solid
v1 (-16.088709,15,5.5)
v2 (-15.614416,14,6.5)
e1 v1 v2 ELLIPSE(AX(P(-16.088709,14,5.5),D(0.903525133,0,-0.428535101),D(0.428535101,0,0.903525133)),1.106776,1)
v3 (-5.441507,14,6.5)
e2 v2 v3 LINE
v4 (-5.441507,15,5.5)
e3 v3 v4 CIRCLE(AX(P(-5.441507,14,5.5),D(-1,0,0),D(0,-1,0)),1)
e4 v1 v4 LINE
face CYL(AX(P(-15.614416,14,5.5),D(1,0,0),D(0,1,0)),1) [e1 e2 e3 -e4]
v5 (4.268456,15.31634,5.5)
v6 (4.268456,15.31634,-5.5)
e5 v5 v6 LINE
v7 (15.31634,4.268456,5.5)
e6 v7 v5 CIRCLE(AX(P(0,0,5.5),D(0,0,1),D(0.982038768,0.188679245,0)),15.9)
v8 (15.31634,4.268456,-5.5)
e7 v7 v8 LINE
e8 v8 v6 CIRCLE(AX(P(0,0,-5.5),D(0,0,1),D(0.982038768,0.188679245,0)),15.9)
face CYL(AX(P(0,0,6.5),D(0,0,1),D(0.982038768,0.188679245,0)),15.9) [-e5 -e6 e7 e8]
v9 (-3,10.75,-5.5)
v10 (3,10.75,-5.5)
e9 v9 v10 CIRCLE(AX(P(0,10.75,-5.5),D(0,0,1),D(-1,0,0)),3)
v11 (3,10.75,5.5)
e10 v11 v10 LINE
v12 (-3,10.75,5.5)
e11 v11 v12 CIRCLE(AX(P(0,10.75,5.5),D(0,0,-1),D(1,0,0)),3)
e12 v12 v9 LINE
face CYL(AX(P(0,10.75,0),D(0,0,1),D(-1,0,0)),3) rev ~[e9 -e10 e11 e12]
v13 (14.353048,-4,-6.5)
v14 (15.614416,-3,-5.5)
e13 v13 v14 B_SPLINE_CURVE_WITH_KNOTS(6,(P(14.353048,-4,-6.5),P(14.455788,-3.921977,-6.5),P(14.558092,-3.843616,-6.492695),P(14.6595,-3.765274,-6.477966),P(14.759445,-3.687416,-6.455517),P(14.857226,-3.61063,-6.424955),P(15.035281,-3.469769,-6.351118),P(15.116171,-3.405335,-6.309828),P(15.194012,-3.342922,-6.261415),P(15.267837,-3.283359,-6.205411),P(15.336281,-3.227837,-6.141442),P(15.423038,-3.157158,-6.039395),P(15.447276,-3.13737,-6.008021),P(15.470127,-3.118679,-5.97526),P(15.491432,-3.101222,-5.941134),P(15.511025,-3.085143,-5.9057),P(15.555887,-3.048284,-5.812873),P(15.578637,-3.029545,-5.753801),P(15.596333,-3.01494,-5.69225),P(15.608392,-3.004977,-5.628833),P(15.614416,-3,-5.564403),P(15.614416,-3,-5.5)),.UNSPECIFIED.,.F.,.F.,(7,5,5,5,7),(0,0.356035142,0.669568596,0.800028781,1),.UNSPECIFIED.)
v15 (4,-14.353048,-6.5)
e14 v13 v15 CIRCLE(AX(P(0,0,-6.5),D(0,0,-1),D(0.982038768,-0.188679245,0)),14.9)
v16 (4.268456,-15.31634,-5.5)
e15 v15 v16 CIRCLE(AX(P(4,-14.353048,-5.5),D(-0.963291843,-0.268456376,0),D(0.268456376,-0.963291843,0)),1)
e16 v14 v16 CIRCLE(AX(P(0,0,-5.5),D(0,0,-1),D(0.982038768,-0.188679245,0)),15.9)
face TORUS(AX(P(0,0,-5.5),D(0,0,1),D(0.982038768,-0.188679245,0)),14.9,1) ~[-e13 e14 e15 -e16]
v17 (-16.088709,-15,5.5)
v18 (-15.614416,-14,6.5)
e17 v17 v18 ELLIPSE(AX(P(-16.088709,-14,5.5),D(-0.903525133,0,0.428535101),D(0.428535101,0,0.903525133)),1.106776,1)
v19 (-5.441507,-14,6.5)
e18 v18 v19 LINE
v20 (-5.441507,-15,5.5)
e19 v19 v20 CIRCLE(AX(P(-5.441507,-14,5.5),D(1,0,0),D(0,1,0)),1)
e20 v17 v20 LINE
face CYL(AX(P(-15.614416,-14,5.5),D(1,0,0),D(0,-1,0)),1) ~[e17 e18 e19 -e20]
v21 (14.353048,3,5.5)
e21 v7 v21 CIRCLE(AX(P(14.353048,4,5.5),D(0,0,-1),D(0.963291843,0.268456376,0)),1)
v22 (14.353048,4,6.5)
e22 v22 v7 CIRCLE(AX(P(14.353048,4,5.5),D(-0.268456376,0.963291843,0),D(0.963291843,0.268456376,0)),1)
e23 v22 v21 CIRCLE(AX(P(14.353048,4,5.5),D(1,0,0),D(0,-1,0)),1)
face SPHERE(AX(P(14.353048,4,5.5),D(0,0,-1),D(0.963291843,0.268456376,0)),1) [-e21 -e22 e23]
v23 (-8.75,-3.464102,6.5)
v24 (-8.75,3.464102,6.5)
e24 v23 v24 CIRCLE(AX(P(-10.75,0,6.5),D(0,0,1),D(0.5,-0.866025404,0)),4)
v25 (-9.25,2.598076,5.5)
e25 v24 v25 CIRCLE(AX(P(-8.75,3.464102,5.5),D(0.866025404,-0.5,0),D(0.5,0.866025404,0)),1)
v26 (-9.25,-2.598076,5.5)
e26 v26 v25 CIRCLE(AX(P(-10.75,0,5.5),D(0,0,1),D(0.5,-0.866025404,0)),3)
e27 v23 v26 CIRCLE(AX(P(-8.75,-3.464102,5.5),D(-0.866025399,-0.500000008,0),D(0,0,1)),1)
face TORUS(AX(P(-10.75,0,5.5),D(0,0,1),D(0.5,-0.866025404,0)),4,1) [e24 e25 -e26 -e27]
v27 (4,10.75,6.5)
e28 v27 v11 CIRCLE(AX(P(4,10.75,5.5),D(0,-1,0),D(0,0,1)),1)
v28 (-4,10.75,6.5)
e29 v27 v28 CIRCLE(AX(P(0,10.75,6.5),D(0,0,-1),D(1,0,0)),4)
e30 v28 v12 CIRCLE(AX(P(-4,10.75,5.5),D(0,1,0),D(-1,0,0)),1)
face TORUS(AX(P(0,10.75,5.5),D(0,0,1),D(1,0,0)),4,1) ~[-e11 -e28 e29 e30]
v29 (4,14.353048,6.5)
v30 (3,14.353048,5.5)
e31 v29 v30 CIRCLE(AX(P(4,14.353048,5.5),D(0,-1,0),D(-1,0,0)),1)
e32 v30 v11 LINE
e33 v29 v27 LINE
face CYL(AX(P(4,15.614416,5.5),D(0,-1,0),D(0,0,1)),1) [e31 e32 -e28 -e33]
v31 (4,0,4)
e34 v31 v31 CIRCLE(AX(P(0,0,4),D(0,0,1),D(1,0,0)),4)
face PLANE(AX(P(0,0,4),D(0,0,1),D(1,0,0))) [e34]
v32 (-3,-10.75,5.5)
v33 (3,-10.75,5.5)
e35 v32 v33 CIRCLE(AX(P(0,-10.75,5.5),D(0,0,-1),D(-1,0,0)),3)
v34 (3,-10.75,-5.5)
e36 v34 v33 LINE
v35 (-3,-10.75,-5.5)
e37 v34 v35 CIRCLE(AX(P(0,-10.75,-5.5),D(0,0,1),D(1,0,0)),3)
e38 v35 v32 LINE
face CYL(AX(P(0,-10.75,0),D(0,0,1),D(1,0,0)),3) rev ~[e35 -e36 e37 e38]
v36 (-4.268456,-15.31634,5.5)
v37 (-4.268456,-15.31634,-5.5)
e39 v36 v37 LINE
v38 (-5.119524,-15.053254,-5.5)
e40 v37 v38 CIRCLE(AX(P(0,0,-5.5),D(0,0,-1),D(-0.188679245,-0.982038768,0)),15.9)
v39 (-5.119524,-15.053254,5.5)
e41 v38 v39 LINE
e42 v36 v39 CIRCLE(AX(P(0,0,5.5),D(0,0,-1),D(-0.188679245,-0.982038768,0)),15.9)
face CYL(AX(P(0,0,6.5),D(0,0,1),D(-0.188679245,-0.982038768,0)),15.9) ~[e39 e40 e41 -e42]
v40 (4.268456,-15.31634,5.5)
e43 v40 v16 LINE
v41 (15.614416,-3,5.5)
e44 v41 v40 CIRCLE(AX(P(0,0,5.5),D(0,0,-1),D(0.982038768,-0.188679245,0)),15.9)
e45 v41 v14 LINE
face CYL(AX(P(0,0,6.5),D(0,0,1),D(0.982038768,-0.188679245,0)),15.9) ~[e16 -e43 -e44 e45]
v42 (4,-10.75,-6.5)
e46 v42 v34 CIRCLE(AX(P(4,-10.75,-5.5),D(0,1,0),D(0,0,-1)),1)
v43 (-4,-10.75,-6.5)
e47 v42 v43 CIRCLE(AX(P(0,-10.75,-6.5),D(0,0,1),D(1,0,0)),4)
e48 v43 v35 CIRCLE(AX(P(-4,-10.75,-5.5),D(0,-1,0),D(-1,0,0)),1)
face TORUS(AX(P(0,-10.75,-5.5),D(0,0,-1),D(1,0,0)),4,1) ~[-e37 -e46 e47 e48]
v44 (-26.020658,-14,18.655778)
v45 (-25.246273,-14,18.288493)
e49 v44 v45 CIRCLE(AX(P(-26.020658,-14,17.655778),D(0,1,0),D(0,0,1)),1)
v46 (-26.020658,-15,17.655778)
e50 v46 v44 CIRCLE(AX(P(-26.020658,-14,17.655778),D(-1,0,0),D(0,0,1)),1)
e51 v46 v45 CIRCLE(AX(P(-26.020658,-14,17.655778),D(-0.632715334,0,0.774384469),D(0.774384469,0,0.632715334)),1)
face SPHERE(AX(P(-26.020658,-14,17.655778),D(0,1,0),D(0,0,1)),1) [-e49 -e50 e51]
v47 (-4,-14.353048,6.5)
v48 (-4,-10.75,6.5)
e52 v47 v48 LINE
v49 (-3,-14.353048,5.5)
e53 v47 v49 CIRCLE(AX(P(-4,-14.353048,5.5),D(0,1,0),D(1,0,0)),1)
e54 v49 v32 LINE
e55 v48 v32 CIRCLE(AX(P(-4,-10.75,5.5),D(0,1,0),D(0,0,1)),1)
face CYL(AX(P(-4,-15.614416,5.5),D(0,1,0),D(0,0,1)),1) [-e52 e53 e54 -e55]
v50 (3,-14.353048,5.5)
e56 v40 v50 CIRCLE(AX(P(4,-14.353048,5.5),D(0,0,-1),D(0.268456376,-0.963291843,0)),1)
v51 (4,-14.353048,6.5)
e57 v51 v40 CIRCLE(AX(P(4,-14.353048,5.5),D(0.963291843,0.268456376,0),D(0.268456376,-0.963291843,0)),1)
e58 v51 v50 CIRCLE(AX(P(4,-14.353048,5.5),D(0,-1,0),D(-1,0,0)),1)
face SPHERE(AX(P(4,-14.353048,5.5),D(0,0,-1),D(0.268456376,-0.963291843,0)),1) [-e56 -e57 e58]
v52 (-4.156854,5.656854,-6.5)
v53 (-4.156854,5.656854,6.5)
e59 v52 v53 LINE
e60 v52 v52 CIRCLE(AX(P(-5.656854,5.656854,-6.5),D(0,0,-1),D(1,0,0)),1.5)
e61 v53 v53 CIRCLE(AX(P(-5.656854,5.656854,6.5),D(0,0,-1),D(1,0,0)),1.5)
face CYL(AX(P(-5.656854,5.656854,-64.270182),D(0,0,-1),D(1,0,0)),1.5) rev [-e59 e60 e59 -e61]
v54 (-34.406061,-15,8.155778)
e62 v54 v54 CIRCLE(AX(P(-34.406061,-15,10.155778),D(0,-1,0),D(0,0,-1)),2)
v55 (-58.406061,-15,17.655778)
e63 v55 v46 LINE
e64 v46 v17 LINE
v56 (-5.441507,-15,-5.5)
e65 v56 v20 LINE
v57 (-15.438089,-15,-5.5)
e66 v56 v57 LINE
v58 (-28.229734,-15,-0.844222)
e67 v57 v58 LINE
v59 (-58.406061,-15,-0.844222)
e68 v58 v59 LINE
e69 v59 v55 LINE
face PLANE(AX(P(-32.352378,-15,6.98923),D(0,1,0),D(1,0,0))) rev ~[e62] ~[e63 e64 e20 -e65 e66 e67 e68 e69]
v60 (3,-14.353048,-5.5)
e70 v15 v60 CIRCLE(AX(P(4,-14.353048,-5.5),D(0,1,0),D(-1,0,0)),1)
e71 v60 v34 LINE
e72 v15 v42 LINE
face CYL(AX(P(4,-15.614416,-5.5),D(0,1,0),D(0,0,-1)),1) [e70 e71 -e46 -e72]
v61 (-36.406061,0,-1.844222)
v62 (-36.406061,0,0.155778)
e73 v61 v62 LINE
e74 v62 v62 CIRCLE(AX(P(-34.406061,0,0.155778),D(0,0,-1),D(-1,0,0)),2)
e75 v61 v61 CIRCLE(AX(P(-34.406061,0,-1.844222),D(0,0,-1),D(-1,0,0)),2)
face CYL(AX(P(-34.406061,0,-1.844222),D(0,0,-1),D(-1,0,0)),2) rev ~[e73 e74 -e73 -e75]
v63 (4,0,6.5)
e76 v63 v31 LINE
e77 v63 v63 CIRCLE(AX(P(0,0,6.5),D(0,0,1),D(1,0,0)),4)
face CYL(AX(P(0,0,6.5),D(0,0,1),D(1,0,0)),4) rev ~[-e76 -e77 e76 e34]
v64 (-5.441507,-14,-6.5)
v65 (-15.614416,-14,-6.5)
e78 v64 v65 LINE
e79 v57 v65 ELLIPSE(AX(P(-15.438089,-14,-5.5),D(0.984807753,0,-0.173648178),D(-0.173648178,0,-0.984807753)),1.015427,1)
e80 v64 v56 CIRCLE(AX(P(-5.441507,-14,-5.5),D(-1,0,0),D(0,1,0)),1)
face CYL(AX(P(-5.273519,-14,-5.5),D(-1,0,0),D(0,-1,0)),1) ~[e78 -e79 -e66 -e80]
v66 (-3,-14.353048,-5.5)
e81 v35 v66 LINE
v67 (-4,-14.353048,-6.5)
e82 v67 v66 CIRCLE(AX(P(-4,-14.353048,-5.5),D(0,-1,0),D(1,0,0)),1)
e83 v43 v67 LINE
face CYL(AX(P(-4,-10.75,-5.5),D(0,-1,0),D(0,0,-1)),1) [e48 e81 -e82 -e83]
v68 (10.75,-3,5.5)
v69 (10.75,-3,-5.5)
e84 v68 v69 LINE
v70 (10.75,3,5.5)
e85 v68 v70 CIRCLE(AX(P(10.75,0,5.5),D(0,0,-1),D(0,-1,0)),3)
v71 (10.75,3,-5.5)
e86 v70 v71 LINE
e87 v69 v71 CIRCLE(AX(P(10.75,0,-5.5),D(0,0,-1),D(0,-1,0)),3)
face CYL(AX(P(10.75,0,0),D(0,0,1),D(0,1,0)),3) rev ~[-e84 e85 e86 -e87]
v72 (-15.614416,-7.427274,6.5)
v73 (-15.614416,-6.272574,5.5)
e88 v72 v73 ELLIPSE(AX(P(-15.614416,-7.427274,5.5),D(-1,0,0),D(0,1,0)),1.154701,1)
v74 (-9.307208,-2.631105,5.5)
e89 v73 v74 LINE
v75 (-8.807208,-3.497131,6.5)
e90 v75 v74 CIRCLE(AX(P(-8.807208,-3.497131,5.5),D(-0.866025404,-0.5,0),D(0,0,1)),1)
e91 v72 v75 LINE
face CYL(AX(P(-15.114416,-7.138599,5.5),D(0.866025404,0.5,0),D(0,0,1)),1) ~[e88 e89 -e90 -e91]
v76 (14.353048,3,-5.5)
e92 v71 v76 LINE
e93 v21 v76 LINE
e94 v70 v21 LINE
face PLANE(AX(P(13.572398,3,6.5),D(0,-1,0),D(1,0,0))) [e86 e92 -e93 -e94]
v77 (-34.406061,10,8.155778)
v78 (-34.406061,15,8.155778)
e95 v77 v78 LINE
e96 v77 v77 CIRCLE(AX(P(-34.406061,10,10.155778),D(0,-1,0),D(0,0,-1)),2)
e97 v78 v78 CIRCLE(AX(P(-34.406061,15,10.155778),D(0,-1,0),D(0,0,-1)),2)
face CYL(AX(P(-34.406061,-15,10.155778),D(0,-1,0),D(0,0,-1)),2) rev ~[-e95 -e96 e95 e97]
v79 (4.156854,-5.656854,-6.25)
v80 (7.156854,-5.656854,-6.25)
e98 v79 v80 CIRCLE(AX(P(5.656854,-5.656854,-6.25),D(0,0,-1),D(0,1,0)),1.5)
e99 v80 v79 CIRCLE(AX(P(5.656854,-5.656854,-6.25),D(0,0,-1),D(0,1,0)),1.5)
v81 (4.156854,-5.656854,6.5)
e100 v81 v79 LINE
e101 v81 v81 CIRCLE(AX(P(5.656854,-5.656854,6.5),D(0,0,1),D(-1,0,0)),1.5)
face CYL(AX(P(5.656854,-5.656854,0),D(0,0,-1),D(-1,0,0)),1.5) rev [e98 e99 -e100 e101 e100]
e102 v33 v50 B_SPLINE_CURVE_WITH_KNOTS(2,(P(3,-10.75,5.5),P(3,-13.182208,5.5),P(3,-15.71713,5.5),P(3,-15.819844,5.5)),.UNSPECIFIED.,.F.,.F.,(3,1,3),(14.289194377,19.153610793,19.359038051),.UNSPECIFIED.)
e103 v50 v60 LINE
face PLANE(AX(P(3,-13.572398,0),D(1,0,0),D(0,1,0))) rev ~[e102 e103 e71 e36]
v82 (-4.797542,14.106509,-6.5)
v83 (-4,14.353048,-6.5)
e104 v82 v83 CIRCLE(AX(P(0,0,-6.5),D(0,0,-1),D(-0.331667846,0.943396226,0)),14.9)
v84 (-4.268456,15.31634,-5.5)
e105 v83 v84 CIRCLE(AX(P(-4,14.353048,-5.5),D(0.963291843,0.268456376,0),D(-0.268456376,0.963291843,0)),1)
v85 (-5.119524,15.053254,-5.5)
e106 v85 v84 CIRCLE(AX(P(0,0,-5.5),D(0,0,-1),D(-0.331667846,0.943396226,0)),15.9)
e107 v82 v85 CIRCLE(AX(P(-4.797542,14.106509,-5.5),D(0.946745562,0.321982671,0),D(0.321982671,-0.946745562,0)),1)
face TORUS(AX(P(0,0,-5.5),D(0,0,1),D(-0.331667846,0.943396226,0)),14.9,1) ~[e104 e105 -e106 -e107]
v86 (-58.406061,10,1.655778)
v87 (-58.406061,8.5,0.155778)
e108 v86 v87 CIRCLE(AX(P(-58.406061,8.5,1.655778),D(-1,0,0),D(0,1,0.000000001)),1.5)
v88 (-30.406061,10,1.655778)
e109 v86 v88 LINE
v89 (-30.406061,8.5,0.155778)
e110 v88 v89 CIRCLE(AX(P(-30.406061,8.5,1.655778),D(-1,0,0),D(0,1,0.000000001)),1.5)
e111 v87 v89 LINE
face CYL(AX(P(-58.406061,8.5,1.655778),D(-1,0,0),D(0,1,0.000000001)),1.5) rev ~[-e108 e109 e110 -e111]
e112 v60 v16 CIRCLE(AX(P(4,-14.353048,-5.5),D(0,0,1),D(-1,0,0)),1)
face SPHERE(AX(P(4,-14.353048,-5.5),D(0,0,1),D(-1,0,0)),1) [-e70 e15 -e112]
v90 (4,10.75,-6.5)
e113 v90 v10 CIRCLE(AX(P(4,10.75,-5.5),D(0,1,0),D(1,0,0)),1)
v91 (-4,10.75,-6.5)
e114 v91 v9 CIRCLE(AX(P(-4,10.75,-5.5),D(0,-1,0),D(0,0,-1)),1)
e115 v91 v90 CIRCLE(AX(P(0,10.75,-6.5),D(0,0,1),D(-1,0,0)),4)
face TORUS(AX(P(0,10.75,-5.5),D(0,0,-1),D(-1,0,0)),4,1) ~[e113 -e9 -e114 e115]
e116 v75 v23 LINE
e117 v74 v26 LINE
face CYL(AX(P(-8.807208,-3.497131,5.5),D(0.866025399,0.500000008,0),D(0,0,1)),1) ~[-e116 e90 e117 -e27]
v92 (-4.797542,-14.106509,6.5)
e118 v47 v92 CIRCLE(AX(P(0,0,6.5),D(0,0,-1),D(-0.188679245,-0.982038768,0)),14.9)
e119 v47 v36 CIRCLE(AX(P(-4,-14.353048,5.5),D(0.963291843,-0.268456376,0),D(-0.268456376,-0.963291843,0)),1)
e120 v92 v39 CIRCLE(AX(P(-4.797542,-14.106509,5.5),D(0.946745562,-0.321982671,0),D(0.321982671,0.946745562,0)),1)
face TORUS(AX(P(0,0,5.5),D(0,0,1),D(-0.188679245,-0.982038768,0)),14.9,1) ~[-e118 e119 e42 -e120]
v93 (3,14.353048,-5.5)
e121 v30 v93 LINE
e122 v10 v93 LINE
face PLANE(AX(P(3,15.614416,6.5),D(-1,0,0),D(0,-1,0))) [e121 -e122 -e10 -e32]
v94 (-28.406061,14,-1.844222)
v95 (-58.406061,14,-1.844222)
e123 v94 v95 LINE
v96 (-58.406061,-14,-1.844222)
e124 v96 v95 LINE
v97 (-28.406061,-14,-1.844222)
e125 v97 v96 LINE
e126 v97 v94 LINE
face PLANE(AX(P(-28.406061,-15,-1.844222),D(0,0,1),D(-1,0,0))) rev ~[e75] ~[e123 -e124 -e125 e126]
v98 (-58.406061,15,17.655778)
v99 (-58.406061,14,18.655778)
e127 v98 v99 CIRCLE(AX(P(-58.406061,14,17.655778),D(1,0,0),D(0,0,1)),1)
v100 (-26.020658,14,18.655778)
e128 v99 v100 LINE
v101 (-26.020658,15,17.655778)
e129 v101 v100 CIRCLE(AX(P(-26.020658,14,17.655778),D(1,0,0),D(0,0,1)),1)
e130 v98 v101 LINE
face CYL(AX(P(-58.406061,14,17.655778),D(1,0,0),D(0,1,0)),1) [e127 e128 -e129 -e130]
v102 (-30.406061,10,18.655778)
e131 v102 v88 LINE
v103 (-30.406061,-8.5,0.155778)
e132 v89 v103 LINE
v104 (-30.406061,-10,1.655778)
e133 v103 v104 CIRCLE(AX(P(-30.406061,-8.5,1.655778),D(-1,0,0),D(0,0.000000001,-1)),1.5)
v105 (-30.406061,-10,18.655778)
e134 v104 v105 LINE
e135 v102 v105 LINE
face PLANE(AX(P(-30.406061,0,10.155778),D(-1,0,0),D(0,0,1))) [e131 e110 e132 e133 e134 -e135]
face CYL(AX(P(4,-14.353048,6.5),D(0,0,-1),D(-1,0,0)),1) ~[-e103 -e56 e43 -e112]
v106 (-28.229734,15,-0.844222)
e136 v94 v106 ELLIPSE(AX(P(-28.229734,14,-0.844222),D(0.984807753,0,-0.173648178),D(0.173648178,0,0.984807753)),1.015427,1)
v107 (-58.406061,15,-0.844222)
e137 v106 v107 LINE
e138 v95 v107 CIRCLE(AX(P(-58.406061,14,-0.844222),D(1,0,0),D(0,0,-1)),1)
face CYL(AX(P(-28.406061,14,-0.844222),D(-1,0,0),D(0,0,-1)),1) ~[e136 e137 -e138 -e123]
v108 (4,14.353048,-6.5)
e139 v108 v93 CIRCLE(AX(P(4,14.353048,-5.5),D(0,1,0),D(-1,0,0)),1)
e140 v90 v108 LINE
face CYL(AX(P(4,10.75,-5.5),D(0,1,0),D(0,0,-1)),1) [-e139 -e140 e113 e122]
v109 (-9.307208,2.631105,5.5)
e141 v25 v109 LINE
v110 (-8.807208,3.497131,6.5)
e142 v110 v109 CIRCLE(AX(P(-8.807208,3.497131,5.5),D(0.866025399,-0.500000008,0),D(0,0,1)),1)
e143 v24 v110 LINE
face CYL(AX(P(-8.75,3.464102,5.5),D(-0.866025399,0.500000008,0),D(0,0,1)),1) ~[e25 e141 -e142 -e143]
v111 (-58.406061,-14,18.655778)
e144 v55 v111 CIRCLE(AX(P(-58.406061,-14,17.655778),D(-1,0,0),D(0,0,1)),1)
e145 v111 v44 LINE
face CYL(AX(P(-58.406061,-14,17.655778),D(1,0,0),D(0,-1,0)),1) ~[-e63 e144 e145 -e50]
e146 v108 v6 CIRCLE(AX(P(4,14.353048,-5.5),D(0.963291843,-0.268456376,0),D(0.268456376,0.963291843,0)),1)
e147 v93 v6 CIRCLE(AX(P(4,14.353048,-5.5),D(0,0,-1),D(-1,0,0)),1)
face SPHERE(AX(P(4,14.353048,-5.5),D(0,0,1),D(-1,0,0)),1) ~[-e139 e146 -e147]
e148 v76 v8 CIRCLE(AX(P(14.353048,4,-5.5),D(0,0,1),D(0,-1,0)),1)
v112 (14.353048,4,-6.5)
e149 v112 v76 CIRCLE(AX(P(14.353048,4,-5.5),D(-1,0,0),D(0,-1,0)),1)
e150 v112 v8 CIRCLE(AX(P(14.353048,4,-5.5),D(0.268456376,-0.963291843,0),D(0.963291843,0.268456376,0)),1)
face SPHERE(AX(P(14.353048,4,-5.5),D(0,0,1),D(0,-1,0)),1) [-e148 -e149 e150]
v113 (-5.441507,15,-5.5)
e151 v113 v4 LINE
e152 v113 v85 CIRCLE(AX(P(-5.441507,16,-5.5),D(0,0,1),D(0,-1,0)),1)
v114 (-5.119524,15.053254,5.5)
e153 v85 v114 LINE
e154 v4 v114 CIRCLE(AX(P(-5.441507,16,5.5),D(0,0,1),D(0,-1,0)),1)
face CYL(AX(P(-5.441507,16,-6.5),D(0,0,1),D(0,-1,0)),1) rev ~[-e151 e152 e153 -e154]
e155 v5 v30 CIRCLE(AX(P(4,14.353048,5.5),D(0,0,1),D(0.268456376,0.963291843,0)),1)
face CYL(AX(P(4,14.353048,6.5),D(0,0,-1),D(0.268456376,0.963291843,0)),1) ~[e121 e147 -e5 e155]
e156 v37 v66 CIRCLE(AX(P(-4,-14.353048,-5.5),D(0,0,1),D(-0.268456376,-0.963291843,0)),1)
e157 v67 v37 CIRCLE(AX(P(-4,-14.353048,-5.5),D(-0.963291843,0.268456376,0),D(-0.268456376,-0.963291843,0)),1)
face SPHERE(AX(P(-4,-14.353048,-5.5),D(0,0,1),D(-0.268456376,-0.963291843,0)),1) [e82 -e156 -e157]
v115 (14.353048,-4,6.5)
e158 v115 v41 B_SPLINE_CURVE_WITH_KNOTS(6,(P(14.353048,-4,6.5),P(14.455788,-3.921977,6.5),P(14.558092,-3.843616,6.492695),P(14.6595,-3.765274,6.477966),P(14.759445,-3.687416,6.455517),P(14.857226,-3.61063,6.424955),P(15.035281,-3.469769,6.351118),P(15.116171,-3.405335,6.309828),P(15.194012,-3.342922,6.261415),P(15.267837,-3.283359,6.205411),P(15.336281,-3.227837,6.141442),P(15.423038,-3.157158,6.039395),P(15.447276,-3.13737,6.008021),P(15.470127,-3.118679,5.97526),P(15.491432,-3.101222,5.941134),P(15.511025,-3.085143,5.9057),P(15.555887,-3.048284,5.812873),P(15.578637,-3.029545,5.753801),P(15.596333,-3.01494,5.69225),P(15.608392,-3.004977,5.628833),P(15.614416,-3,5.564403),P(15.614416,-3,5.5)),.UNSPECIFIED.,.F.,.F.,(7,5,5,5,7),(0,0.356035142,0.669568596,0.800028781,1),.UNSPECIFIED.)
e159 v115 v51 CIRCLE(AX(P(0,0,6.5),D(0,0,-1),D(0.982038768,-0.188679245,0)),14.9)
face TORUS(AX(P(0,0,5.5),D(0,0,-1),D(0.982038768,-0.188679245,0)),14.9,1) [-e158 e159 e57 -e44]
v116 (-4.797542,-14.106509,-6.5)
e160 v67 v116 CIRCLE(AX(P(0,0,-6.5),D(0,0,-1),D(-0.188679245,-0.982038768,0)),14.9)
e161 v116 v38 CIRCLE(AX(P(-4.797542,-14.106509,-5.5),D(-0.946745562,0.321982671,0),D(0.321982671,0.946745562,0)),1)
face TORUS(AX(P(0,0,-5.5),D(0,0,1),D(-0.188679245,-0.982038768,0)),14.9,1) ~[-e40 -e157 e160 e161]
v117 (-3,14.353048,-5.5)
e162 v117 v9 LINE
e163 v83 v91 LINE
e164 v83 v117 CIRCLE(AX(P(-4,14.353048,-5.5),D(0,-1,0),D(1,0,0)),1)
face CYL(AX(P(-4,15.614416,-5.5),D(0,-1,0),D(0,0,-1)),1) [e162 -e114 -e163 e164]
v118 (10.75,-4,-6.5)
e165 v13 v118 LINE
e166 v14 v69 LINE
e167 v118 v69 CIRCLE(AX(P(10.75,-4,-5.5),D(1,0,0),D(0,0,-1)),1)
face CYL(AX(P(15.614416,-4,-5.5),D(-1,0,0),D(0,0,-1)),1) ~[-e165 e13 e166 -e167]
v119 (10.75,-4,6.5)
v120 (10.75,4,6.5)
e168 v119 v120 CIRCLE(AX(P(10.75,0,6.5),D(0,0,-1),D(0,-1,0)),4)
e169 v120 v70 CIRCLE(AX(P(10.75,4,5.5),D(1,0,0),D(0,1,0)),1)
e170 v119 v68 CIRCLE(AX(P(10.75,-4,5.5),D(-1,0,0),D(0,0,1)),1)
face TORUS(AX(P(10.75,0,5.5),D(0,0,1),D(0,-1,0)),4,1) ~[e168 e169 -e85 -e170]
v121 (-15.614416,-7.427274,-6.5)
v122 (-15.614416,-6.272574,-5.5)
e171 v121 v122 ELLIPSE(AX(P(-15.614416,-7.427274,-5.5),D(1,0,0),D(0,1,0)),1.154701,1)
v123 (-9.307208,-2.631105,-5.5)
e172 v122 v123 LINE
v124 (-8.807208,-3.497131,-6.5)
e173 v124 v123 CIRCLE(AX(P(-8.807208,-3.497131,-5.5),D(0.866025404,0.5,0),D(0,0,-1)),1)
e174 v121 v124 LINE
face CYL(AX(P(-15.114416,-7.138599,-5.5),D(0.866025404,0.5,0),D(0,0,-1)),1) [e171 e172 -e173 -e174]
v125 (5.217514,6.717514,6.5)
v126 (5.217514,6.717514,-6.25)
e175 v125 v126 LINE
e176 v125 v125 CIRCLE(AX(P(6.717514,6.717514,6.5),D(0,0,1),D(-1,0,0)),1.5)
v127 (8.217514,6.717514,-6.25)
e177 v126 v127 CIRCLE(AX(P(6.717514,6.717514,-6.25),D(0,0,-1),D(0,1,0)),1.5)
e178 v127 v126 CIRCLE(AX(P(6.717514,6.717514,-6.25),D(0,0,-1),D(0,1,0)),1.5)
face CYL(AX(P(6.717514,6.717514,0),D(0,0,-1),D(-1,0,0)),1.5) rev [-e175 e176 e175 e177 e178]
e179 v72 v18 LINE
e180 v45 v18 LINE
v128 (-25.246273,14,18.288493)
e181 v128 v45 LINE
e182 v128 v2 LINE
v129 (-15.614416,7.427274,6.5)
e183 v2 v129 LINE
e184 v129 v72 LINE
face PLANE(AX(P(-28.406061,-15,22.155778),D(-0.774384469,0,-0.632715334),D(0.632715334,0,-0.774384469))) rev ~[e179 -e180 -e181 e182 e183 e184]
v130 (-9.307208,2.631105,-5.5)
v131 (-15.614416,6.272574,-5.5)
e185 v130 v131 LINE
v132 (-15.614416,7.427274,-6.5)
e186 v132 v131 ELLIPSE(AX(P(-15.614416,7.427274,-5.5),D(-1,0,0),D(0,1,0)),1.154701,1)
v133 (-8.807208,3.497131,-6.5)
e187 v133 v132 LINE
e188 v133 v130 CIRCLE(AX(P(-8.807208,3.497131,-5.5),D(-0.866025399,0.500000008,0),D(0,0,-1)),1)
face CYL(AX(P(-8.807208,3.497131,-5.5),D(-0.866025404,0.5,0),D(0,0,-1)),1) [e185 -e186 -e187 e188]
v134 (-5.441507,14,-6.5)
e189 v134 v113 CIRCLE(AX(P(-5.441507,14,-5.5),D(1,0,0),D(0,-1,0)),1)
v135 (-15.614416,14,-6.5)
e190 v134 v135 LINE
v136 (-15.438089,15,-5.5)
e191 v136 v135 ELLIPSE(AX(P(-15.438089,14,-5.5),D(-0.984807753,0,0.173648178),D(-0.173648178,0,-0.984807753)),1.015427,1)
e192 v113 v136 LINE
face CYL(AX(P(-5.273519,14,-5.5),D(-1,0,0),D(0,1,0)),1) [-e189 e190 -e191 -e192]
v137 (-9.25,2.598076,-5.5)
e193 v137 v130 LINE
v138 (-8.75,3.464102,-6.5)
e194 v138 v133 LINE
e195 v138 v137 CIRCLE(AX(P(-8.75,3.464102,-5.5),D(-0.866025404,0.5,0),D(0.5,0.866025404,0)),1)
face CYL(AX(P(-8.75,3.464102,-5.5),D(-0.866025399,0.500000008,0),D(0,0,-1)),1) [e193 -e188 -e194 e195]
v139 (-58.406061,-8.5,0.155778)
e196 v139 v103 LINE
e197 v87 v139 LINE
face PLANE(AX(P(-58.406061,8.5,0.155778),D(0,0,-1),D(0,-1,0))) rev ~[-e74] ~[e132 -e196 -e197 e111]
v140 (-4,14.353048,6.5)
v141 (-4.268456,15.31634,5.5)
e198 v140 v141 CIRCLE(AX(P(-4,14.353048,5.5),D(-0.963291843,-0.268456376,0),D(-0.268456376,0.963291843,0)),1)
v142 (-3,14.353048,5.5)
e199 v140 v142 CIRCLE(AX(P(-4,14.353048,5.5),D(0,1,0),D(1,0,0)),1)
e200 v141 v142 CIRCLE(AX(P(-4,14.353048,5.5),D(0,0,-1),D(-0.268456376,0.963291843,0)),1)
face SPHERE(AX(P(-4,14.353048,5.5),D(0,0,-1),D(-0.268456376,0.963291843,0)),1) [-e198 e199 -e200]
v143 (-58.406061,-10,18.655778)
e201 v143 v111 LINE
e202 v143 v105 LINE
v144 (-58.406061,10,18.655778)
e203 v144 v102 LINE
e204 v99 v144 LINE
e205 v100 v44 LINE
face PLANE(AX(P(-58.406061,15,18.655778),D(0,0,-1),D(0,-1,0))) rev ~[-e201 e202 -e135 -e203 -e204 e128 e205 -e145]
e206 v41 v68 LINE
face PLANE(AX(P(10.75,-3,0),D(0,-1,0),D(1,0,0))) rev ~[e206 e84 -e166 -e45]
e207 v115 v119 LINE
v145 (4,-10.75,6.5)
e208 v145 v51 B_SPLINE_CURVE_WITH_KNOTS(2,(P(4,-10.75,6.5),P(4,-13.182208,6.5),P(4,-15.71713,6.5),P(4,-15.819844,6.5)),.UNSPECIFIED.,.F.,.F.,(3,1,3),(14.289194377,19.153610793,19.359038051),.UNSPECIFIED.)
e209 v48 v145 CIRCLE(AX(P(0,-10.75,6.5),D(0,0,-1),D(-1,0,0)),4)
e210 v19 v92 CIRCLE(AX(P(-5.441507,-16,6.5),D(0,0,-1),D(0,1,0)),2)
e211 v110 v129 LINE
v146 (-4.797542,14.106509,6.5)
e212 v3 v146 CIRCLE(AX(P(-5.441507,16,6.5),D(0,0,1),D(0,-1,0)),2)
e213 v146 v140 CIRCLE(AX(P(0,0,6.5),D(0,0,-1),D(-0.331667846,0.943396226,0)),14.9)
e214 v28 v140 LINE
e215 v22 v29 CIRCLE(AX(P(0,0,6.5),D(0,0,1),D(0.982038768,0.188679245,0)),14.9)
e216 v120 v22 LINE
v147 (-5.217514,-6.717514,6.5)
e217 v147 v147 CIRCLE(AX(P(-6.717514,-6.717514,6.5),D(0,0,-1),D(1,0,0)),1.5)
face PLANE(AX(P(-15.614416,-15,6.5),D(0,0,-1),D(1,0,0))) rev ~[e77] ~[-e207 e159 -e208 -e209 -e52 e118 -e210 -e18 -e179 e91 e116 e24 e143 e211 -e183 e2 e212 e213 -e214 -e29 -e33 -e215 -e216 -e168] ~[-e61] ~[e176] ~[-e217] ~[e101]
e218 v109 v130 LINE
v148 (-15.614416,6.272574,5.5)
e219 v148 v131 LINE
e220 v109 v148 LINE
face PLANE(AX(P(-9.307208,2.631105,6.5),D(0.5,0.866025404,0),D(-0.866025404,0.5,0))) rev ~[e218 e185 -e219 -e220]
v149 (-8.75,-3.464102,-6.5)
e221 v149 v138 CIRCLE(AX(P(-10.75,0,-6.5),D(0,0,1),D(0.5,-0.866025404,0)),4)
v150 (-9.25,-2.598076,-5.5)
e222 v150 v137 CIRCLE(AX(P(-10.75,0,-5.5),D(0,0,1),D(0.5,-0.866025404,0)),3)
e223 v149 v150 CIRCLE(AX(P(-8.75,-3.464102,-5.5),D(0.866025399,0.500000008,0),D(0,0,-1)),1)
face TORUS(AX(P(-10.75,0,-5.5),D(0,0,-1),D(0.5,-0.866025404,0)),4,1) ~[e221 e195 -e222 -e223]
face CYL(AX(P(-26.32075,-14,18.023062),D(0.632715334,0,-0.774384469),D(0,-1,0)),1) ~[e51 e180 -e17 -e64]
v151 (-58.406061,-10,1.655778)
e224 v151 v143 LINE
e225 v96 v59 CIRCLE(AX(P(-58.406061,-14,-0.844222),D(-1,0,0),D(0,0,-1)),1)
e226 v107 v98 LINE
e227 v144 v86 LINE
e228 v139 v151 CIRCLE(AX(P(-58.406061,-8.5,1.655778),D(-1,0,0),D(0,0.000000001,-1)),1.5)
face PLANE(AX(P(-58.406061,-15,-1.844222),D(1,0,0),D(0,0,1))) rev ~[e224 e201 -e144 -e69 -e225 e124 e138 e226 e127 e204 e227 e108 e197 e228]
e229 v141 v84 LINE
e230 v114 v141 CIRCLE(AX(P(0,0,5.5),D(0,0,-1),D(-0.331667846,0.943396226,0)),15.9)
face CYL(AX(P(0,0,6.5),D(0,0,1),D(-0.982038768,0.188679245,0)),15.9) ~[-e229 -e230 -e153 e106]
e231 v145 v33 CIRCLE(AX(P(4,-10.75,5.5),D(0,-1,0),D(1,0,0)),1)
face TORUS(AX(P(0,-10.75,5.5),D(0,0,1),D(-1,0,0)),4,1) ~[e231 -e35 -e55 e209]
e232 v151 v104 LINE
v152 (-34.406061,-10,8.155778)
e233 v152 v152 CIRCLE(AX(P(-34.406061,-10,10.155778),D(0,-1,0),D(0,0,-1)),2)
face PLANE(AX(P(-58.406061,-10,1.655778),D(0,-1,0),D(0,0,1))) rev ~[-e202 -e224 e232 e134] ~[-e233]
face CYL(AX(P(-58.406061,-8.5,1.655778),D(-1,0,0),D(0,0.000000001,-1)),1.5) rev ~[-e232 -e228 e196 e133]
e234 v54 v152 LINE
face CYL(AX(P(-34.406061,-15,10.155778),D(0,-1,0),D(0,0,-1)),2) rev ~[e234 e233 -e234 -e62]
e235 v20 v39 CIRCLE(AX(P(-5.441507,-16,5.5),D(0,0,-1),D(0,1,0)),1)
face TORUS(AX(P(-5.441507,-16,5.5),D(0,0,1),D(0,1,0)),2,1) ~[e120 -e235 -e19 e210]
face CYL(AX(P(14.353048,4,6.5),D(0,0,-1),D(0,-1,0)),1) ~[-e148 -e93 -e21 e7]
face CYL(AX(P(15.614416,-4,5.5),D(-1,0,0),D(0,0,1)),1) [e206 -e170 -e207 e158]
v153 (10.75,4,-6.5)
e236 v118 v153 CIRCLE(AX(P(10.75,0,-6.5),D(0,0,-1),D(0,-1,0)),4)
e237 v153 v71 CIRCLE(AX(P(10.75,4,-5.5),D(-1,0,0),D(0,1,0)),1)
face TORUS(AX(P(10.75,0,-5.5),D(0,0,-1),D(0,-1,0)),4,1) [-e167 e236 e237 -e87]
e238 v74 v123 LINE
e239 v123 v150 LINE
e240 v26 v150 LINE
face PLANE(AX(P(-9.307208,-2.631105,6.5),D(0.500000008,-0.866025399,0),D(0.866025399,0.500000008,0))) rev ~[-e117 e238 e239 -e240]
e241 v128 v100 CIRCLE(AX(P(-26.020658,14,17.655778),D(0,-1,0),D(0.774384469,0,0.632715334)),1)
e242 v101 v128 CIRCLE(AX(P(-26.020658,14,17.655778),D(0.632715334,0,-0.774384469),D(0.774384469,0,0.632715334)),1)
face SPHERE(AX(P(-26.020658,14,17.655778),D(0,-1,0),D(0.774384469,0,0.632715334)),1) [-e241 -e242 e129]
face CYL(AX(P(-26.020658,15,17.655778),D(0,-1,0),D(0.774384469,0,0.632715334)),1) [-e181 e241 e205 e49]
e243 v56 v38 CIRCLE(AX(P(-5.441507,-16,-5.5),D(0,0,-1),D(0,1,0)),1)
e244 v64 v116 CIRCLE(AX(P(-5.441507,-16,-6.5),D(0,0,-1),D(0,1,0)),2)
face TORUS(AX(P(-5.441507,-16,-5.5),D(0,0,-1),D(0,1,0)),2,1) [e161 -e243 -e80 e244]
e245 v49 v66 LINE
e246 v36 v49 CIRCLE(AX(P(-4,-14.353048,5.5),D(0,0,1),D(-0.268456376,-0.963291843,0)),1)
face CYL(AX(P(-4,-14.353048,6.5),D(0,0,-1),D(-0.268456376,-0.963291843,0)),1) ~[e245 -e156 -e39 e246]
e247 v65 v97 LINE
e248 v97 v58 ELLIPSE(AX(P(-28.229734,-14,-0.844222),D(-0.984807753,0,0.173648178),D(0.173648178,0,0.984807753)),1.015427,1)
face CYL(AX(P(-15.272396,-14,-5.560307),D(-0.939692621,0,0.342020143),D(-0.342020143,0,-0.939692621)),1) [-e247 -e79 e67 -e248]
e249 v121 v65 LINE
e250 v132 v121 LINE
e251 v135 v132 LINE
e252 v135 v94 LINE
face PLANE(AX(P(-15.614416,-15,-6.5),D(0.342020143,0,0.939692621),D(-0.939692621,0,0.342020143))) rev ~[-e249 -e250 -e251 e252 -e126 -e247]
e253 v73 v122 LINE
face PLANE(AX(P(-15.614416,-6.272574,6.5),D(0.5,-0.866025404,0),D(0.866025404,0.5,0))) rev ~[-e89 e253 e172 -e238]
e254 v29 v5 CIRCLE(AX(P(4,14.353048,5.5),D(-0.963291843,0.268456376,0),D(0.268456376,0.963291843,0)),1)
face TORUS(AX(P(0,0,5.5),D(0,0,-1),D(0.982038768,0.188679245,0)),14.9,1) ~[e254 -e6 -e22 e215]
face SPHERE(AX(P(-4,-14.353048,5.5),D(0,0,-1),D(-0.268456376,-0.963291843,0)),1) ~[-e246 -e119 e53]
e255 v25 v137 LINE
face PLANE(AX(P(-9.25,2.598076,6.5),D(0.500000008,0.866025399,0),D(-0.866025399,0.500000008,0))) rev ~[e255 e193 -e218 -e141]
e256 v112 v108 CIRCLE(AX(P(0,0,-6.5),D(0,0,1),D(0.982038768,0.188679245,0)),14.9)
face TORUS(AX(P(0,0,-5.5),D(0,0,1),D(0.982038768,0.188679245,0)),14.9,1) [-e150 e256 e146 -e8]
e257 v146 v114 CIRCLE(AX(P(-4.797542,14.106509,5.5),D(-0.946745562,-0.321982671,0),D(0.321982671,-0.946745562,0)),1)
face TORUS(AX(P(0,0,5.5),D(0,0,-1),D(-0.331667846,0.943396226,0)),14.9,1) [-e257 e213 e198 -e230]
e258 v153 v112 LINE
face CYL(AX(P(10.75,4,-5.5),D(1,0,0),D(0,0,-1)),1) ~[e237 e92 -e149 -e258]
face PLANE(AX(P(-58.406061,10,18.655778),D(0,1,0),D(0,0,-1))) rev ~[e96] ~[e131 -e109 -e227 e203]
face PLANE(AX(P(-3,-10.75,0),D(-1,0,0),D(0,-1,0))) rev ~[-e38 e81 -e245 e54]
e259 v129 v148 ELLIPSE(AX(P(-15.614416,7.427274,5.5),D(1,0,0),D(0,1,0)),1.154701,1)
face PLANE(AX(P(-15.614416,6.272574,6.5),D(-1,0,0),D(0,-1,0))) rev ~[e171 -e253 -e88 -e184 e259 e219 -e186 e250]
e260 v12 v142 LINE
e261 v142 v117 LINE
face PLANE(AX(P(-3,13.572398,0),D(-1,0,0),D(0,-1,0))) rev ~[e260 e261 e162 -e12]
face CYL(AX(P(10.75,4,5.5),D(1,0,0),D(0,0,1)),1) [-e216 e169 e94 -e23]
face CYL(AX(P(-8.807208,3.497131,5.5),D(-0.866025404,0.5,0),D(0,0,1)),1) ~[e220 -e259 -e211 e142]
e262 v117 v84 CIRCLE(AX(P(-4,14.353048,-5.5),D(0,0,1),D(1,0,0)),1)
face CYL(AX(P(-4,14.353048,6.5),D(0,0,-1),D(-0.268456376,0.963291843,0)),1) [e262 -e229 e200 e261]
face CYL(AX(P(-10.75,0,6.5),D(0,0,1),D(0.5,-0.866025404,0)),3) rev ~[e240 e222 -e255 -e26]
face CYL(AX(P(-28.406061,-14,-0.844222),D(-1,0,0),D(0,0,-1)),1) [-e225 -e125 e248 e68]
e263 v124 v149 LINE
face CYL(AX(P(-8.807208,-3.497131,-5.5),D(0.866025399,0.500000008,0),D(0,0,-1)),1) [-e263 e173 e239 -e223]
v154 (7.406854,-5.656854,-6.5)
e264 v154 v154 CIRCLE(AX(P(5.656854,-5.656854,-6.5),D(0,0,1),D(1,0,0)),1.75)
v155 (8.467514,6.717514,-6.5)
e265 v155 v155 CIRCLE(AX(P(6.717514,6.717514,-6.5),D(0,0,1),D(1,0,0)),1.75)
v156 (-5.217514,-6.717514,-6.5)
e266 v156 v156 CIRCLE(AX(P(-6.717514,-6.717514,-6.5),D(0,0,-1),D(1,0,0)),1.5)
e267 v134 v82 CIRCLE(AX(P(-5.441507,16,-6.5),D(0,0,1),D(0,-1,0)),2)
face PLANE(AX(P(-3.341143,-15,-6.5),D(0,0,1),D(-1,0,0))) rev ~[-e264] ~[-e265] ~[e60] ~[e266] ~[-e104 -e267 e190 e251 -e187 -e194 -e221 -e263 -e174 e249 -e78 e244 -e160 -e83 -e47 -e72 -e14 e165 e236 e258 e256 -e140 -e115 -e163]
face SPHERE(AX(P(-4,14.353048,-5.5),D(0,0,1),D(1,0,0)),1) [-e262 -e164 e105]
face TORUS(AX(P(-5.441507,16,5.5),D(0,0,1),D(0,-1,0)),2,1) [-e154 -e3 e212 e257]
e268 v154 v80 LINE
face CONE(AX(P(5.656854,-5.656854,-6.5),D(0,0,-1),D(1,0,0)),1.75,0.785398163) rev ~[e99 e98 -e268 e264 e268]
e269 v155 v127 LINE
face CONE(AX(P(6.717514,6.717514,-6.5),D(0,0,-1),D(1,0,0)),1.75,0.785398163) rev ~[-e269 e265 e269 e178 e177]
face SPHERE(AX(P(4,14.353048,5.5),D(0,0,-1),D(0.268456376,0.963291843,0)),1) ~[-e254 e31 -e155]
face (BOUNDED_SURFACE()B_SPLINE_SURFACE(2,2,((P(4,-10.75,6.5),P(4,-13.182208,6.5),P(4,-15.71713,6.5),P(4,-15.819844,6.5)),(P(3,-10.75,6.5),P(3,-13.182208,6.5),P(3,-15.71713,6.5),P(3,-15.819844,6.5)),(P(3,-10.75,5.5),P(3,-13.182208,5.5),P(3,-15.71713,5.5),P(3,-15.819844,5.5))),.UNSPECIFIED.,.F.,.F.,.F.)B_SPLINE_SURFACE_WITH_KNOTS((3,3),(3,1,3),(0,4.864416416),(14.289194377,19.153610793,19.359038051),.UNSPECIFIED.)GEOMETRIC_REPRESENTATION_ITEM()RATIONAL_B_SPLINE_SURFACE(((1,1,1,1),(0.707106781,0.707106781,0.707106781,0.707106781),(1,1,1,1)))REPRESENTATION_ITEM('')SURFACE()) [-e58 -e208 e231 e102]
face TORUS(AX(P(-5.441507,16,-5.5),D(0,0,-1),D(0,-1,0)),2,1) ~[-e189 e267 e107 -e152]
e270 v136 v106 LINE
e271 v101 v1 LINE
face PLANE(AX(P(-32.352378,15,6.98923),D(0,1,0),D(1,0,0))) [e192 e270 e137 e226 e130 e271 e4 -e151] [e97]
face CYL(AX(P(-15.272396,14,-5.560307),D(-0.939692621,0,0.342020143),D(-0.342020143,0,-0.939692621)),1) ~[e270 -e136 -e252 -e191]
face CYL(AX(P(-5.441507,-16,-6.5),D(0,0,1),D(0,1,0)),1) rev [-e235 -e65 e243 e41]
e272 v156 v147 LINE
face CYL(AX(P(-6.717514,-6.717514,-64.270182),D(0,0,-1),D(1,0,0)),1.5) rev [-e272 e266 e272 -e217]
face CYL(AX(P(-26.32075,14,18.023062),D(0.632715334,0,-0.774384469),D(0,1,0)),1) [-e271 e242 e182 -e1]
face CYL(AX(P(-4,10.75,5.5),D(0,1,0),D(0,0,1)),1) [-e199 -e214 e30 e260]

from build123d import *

# Parameters (mm, degrees)
ESQUISSE4_R                   = 1.5
BOSS_EXTRU_3_DEPTH            = 6.5
ENL_V_MAT_EXTRU_7_DEPTH       = 24.18232085
BOSS_EXTRU_7_DEPTH            = 13
BOSS_EXTRU_8_DEPTH            = 30
TROU_TARAUD_M32_D             = 2.5
TROU_TARAUD_M32_DEPTH         = 28.655777755
TROU_TARAUD_M32_CSINK_D       = 3.5
TROU_TARAUD_M32_CSINK_ANGLE   = 90
ENL_V_MAT_EXTRU_1_DEPTH       = 28
ENL_V_MAT_EXTRU_8_DEPTH       = 63.451431526
ESQUISSE13_R                  = 2
ENL_V_MAT_EXTRU_4_DEPTH       = 70.565716434
ESQUISSE15_R                  = 2
ENL_V_MAT_EXTRU_5_DEPTH       = 66.046736448
ENL_V_MAT_EXTRU_6_DEPTH       = 79.827149608
ESQUISSE24_R                  = 4
ENL_V_MAT_EXTRU_9_DEPTH       = 2.5
ENL_V_MAT_EXTRU_11_DEPTH      = 64.270182283
ENL_V_MAT_EXTRU_11_DEPTH_BACK = 64.270182283
ESQUISSE4_6_R                 = 1.5
CONG_1_R                      = 1


with BuildPart() as part:
    # Esquisse4 → Boss.-Extru.3 (new, symmetric)
    with BuildSketch(Plane.XY):
        with BuildLine():
            Line((-10.75, 3), (-13.572398462, 3))
            ThreePointArc((-13.572398462, 3), (-9.828784258, 9.828784258), (-3, 13.572398462))
            Line((-3, 13.572398462), (-3, 10.75))
            ThreePointArc((-3, 10.75), (0, 7.75), (3, 10.75))
            Line((3, 10.75), (3, 13.572398462))
            ThreePointArc((3, 13.572398462), (9.828784258, 9.828784258), (13.572398462, 3))
            Line((13.572398462, 3), (10.75, 3))
            ThreePointArc((10.75, 3), (7.75, 0), (10.75, -3))
            Line((10.75, -3), (13.572398462, -3))
            ThreePointArc((13.572398462, -3), (9.828784258, -9.828784258), (3, -13.572398462))
            Line((3, -13.572398462), (3, -10.75))
            ThreePointArc((3, -10.75), (0, -7.75), (-3, -10.75))
            Line((-3, -10.75), (-3, -13.572398462))
            ThreePointArc((-3, -13.572398462), (-9.828784258, -9.828784258), (-13.572398462, -3))
            Line((-13.572398462, -3), (-10.75, -3))
            ThreePointArc((-10.75, -3), (-7.75, 0), (-10.75, 3))
        make_face()
        with Locations(Location((-6.717514421, -6.717514421, 0), (0, 0, 180))):
            Circle(ESQUISSE4_R, mode=Mode.SUBTRACT)
        with Locations(Location((6.717514421, 6.717514421, 0), (0, 0, 180))):
            Circle(ESQUISSE4_R, mode=Mode.SUBTRACT)
        with Locations(Location((-5.656854249, 5.656854249, 0), (0, 0, 180))):
            Circle(ESQUISSE4_R, mode=Mode.SUBTRACT)
        with Locations(Location((5.656854249, -5.656854249, 0), (0, 0, 180))):
            Circle(ESQUISSE4_R, mode=Mode.SUBTRACT)
    extrude(amount=BOSS_EXTRU_3_DEPTH, both=True)

    # Esquisse20 → Enlèv. mat.-Extru.7 (cut, through all)
    with BuildSketch(Plane.XY.offset(6.5)):
        with BuildLine():
            Line((-9.25, -2.598076211), (-18.719475077, -8.065280196))
            Line((-18.719475077, -8.065280196), (-18.719475077, 8.065280196))
            Line((-18.719475077, 8.065280196), (-9.25, 2.598076211))
            ThreePointArc((-9.25, 2.598076211), (-7.75, 0), (-9.25, -2.598076211))
        make_face()
    extrude(amount=-ENL_V_MAT_EXTRU_7_DEPTH, mode=Mode.SUBTRACT)

    # Esquisse7 → Boss.-Extru.7 (add)
    with BuildSketch(Plane.XY.offset(6.5)):
        with BuildLine():
            Line((13.572398462, 3), (15.614416416, 3))
            ThreePointArc((15.614416416, 3), (11.242997821, 11.242997821), (3, 15.614416416))
            Line((3, 15.614416416), (3, 13.572398462))
            ThreePointArc((3, 13.572398462), (9.828784258, 9.828784258), (13.572398462, 3))
        make_face()
        with BuildLine():
            Line((13.572398462, -3), (15.614416416, -3))
            ThreePointArc((15.614416416, -3), (11.242997821, -11.242997821), (3, -15.614416416))
            Line((3, -15.614416416), (3, -13.572398462))
            ThreePointArc((3, -13.572398462), (9.828784258, -9.828784258), (13.572398462, -3))
        make_face()
        with BuildLine():
            Line((-3, -13.572398462), (-3, -15.614416416))
            ThreePointArc((-3, -15.614416416), (-11.242997821, -11.242997821), (-15.614416416, -3))
            Line((-15.614416416, -3), (-13.572398462, -3))
            ThreePointArc((-13.572398462, -3), (-9.828784258, -9.828784258), (-3, -13.572398462))
        make_face()
        with BuildLine():
            Line((-13.572398462, 3), (-15.614416416, 3))
            ThreePointArc((-15.614416416, 3), (-11.242997821, 11.242997821), (-3, 15.614416416))
            Line((-3, 15.614416416), (-3, 13.572398462))
            ThreePointArc((-3, 13.572398462), (-9.828784258, 9.828784258), (-13.572398462, 3))
        make_face()
    extrude(amount=-BOSS_EXTRU_7_DEPTH)

    # Esquisse6 → Boss.-Extru.8 (add)
    with BuildSketch(Plane(origin=(0, -15, 0), x_dir=(1, 0, 0), z_dir=(0, 1, 0))):
        Polygon((-28.406060666, 1.844222245), (-58.406060666, 1.844222245), (-58.406060666, -22.155777755), (-28.406060666, -22.155777755), (-15.614416416, -6.5), (-9.307208208, -6.5), (-3.341143003, -6.5), (-3.341143003, 6.5), (-9.307208208, 6.5), (-15.614416416, 6.5), align=None)
    extrude(amount=BOSS_EXTRU_8_DEPTH)

    # Trou taraudé M32
    with Locations(Plane(origin=(5.656854249, -5.656854249, -6.5), x_dir=(-1, 0, 0), z_dir=(0, 0, -1))):
        with Locations((0, 0), (-1.060660172, 12.37436867)):
            CounterSinkHole(TROU_TARAUD_M32_D / 2, TROU_TARAUD_M32_CSINK_D / 2, depth=TROU_TARAUD_M32_DEPTH, counter_sink_angle=TROU_TARAUD_M32_CSINK_ANGLE)

    # Esquisse8 → Enlèv. mat.-Extru.1 (cut)
    with BuildSketch(Plane.ZY.offset(58.406060666)):
        with BuildLine():
            Line((18.655777755, 10), (1.655777755, 10))
            ThreePointArc((1.655777755, 10), (0.595117583, 9.560660172), (0.155777755, 8.5))
            Line((0.155777755, 8.5), (0.155777755, -8.5))
            ThreePointArc((0.155777755, -8.5), (0.595117583, -9.560660172), (1.655777755, -10))
            Line((1.655777755, -10), (18.655777755, -10))
            ThreePointArc((18.655777755, -10), (19.716437926, -9.560660172), (20.155777755, -8.5))
            Line((20.155777755, -8.5), (20.155777755, 8.5))
            ThreePointArc((20.155777755, 8.5), (19.716437926, 9.560660172), (18.655777755, 10))
        make_face()
    extrude(amount=-ENL_V_MAT_EXTRU_1_DEPTH, mode=Mode.SUBTRACT)

    # Esquisse22 → Enlèv. mat.-Extru.8 (cut, through all)
    with BuildSketch(Plane.XY.offset(6.5)):
        with BuildLine():
            Line((-9.307208208, -2.631105386), (-9.25, -2.598076211))
            ThreePointArc((-9.25, -2.598076211), (-7.75, 0), (-9.25, 2.598076211))
            Line((-9.25, 2.598076211), (-9.307208208, 2.631105386))
            Line((-9.307208208, 2.631105386), (-15.614416416, 6.272573742))
            Line((-15.614416416, 6.272573742), (-15.614416416, -6.272573742))
            Line((-15.614416416, -6.272573742), (-9.307208208, -2.631105386))
        make_face()
    extrude(amount=-ENL_V_MAT_EXTRU_8_DEPTH, mode=Mode.SUBTRACT)

    # Esquisse13 → Enlèv. mat.-Extru.4 (cut, through all)
    with BuildSketch(Plane.XZ.offset(15)):
        with Locations(Location((-34.406060666, 10.155777755, 0), (0, 0, 270))):
            Circle(ESQUISSE13_R)
    extrude(amount=-ENL_V_MAT_EXTRU_4_DEPTH, mode=Mode.SUBTRACT)

    # Esquisse15 → Enlèv. mat.-Extru.5 (cut, through all)
    with BuildSketch(Plane(origin=(0, 0, -1.844222245), x_dir=(-1, 0, 0), z_dir=(0, 0, -1))):
        with Locations((34.406060666, 0)):
            Circle(ESQUISSE15_R)
    extrude(amount=-ENL_V_MAT_EXTRU_5_DEPTH, mode=Mode.SUBTRACT)

    # Esquisse16 → Enlèv. mat.-Extru.6 (cut, through all)
    with BuildSketch(Plane.ZY.offset(58.406060666)):
        Polygon((18.655777755, 10), (18.655777755, -10), (18.655777755, -15), (22.155777755, -15), (22.155777755, 15), (18.655777755, 15), align=None)
    extrude(amount=-ENL_V_MAT_EXTRU_6_DEPTH, mode=Mode.SUBTRACT)

    # Esquisse24 → Enlèv. mat.-Extru.9 (cut)
    with BuildSketch(Plane.XY.offset(6.5)):
        Circle(ESQUISSE24_R)
    extrude(amount=-ENL_V_MAT_EXTRU_9_DEPTH, mode=Mode.SUBTRACT)

    # Esquisse4<6> → Enlèv. mat.-Extru.11 (cut, two sides: drawn at the far end of the back side and taken through both)
    with BuildSketch(Plane.XY.offset(-ENL_V_MAT_EXTRU_11_DEPTH_BACK)):
        with Locations((-6.717514421, -6.717514421)):
            Circle(ESQUISSE4_6_R)
        with Locations((-5.656854249, 5.656854249)):
            Circle(ESQUISSE4_6_R)
    extrude(amount=ENL_V_MAT_EXTRU_11_DEPTH + ENL_V_MAT_EXTRU_11_DEPTH_BACK, mode=Mode.SUBTRACT)

    # Congé1
    cong_1_edges = [part.edges().sort_by_distance(p)[0] for p in [
        (-3, -13.182208208, 6.5),
        (-4.148150794, 15.349359758, -6.5),
        (-3, 15.614416416, 0),
        (-4.148150794, 15.349359758, 6.5),
        (0, -7.75, 6.5),
        (-3, -15.614416416, 0),
        (11.242997821, -11.242997821, -6.5),
        (3, -15.614416416, 0),
        (11.242997821, -11.242997821, 6.5),
        (11.242997821, 11.242997821, -6.5),
        (3, 15.614416416, 0),
        (15.614416416, 3, 0),
        (11.242997821, 11.242997821, 6.5),
        (-5.273518749, 15, 0),
        (-4.148150794, -15.349359758, 6.5),
        (-4.148150794, -15.349359758, -6.5),
        (-5.273518749, -15, 0),
        (-10.443967582, -15, 6.5),
        (-10.443967582, -15, -6.5),
        (-22.010238541, -15, -4.172111123),
        (-43.406060666, -15, -1.844222245),
        (-10.443967582, 15, 6.5),
        (-10.443967582, 15, -6.5),
        (-22.010238541, 15, -4.172111123),
        (-43.406060666, 15, -1.844222245),
        (0, -7.75, -6.5),
        (-3, -13.182208208, -6.5),
        (-12.432208208, -4.435324977, -6.5),
        (-12.432208208, 4.435324977, 6.5),
        (-7.75, 0, -6.5),
        (-12.432208208, 4.435324977, -6.5),
        (-12.432208208, -4.435324977, 6.5),
        (-7.75, 0, 6.5),
        (-3, 13.182208208, -6.5),
        (0, 7.75, -6.5),
        (3, 13.182208208, -6.5),
        (3, -13.182208208, 6.5),
        (-20.580390865, 15, 12.577888877),
        (-20.580390865, -15, 12.577888877),
        (-41.97621299, 15, 18.655777755),
        (13.182208208, 3, -6.5),
        (-25.546365314, 0, 18.655777755),
        (-41.97621299, -15, 18.655777755),
        (7.75, 0, -6.5),
        (13.182208208, -3, -6.5),
        (3, -13.182208208, -6.5),
        (13.182208208, -3, 6.5),
        (7.75, 0, 6.5),
        (13.182208208, 3, 6.5),
        (3, 13.182208208, 6.5),
        (0, 7.75, 6.5),
        (-3, 13.182208208, 6.5),
    ]]
    fillet(cong_1_edges, radius=CONG_1_R)


solid = part.part
